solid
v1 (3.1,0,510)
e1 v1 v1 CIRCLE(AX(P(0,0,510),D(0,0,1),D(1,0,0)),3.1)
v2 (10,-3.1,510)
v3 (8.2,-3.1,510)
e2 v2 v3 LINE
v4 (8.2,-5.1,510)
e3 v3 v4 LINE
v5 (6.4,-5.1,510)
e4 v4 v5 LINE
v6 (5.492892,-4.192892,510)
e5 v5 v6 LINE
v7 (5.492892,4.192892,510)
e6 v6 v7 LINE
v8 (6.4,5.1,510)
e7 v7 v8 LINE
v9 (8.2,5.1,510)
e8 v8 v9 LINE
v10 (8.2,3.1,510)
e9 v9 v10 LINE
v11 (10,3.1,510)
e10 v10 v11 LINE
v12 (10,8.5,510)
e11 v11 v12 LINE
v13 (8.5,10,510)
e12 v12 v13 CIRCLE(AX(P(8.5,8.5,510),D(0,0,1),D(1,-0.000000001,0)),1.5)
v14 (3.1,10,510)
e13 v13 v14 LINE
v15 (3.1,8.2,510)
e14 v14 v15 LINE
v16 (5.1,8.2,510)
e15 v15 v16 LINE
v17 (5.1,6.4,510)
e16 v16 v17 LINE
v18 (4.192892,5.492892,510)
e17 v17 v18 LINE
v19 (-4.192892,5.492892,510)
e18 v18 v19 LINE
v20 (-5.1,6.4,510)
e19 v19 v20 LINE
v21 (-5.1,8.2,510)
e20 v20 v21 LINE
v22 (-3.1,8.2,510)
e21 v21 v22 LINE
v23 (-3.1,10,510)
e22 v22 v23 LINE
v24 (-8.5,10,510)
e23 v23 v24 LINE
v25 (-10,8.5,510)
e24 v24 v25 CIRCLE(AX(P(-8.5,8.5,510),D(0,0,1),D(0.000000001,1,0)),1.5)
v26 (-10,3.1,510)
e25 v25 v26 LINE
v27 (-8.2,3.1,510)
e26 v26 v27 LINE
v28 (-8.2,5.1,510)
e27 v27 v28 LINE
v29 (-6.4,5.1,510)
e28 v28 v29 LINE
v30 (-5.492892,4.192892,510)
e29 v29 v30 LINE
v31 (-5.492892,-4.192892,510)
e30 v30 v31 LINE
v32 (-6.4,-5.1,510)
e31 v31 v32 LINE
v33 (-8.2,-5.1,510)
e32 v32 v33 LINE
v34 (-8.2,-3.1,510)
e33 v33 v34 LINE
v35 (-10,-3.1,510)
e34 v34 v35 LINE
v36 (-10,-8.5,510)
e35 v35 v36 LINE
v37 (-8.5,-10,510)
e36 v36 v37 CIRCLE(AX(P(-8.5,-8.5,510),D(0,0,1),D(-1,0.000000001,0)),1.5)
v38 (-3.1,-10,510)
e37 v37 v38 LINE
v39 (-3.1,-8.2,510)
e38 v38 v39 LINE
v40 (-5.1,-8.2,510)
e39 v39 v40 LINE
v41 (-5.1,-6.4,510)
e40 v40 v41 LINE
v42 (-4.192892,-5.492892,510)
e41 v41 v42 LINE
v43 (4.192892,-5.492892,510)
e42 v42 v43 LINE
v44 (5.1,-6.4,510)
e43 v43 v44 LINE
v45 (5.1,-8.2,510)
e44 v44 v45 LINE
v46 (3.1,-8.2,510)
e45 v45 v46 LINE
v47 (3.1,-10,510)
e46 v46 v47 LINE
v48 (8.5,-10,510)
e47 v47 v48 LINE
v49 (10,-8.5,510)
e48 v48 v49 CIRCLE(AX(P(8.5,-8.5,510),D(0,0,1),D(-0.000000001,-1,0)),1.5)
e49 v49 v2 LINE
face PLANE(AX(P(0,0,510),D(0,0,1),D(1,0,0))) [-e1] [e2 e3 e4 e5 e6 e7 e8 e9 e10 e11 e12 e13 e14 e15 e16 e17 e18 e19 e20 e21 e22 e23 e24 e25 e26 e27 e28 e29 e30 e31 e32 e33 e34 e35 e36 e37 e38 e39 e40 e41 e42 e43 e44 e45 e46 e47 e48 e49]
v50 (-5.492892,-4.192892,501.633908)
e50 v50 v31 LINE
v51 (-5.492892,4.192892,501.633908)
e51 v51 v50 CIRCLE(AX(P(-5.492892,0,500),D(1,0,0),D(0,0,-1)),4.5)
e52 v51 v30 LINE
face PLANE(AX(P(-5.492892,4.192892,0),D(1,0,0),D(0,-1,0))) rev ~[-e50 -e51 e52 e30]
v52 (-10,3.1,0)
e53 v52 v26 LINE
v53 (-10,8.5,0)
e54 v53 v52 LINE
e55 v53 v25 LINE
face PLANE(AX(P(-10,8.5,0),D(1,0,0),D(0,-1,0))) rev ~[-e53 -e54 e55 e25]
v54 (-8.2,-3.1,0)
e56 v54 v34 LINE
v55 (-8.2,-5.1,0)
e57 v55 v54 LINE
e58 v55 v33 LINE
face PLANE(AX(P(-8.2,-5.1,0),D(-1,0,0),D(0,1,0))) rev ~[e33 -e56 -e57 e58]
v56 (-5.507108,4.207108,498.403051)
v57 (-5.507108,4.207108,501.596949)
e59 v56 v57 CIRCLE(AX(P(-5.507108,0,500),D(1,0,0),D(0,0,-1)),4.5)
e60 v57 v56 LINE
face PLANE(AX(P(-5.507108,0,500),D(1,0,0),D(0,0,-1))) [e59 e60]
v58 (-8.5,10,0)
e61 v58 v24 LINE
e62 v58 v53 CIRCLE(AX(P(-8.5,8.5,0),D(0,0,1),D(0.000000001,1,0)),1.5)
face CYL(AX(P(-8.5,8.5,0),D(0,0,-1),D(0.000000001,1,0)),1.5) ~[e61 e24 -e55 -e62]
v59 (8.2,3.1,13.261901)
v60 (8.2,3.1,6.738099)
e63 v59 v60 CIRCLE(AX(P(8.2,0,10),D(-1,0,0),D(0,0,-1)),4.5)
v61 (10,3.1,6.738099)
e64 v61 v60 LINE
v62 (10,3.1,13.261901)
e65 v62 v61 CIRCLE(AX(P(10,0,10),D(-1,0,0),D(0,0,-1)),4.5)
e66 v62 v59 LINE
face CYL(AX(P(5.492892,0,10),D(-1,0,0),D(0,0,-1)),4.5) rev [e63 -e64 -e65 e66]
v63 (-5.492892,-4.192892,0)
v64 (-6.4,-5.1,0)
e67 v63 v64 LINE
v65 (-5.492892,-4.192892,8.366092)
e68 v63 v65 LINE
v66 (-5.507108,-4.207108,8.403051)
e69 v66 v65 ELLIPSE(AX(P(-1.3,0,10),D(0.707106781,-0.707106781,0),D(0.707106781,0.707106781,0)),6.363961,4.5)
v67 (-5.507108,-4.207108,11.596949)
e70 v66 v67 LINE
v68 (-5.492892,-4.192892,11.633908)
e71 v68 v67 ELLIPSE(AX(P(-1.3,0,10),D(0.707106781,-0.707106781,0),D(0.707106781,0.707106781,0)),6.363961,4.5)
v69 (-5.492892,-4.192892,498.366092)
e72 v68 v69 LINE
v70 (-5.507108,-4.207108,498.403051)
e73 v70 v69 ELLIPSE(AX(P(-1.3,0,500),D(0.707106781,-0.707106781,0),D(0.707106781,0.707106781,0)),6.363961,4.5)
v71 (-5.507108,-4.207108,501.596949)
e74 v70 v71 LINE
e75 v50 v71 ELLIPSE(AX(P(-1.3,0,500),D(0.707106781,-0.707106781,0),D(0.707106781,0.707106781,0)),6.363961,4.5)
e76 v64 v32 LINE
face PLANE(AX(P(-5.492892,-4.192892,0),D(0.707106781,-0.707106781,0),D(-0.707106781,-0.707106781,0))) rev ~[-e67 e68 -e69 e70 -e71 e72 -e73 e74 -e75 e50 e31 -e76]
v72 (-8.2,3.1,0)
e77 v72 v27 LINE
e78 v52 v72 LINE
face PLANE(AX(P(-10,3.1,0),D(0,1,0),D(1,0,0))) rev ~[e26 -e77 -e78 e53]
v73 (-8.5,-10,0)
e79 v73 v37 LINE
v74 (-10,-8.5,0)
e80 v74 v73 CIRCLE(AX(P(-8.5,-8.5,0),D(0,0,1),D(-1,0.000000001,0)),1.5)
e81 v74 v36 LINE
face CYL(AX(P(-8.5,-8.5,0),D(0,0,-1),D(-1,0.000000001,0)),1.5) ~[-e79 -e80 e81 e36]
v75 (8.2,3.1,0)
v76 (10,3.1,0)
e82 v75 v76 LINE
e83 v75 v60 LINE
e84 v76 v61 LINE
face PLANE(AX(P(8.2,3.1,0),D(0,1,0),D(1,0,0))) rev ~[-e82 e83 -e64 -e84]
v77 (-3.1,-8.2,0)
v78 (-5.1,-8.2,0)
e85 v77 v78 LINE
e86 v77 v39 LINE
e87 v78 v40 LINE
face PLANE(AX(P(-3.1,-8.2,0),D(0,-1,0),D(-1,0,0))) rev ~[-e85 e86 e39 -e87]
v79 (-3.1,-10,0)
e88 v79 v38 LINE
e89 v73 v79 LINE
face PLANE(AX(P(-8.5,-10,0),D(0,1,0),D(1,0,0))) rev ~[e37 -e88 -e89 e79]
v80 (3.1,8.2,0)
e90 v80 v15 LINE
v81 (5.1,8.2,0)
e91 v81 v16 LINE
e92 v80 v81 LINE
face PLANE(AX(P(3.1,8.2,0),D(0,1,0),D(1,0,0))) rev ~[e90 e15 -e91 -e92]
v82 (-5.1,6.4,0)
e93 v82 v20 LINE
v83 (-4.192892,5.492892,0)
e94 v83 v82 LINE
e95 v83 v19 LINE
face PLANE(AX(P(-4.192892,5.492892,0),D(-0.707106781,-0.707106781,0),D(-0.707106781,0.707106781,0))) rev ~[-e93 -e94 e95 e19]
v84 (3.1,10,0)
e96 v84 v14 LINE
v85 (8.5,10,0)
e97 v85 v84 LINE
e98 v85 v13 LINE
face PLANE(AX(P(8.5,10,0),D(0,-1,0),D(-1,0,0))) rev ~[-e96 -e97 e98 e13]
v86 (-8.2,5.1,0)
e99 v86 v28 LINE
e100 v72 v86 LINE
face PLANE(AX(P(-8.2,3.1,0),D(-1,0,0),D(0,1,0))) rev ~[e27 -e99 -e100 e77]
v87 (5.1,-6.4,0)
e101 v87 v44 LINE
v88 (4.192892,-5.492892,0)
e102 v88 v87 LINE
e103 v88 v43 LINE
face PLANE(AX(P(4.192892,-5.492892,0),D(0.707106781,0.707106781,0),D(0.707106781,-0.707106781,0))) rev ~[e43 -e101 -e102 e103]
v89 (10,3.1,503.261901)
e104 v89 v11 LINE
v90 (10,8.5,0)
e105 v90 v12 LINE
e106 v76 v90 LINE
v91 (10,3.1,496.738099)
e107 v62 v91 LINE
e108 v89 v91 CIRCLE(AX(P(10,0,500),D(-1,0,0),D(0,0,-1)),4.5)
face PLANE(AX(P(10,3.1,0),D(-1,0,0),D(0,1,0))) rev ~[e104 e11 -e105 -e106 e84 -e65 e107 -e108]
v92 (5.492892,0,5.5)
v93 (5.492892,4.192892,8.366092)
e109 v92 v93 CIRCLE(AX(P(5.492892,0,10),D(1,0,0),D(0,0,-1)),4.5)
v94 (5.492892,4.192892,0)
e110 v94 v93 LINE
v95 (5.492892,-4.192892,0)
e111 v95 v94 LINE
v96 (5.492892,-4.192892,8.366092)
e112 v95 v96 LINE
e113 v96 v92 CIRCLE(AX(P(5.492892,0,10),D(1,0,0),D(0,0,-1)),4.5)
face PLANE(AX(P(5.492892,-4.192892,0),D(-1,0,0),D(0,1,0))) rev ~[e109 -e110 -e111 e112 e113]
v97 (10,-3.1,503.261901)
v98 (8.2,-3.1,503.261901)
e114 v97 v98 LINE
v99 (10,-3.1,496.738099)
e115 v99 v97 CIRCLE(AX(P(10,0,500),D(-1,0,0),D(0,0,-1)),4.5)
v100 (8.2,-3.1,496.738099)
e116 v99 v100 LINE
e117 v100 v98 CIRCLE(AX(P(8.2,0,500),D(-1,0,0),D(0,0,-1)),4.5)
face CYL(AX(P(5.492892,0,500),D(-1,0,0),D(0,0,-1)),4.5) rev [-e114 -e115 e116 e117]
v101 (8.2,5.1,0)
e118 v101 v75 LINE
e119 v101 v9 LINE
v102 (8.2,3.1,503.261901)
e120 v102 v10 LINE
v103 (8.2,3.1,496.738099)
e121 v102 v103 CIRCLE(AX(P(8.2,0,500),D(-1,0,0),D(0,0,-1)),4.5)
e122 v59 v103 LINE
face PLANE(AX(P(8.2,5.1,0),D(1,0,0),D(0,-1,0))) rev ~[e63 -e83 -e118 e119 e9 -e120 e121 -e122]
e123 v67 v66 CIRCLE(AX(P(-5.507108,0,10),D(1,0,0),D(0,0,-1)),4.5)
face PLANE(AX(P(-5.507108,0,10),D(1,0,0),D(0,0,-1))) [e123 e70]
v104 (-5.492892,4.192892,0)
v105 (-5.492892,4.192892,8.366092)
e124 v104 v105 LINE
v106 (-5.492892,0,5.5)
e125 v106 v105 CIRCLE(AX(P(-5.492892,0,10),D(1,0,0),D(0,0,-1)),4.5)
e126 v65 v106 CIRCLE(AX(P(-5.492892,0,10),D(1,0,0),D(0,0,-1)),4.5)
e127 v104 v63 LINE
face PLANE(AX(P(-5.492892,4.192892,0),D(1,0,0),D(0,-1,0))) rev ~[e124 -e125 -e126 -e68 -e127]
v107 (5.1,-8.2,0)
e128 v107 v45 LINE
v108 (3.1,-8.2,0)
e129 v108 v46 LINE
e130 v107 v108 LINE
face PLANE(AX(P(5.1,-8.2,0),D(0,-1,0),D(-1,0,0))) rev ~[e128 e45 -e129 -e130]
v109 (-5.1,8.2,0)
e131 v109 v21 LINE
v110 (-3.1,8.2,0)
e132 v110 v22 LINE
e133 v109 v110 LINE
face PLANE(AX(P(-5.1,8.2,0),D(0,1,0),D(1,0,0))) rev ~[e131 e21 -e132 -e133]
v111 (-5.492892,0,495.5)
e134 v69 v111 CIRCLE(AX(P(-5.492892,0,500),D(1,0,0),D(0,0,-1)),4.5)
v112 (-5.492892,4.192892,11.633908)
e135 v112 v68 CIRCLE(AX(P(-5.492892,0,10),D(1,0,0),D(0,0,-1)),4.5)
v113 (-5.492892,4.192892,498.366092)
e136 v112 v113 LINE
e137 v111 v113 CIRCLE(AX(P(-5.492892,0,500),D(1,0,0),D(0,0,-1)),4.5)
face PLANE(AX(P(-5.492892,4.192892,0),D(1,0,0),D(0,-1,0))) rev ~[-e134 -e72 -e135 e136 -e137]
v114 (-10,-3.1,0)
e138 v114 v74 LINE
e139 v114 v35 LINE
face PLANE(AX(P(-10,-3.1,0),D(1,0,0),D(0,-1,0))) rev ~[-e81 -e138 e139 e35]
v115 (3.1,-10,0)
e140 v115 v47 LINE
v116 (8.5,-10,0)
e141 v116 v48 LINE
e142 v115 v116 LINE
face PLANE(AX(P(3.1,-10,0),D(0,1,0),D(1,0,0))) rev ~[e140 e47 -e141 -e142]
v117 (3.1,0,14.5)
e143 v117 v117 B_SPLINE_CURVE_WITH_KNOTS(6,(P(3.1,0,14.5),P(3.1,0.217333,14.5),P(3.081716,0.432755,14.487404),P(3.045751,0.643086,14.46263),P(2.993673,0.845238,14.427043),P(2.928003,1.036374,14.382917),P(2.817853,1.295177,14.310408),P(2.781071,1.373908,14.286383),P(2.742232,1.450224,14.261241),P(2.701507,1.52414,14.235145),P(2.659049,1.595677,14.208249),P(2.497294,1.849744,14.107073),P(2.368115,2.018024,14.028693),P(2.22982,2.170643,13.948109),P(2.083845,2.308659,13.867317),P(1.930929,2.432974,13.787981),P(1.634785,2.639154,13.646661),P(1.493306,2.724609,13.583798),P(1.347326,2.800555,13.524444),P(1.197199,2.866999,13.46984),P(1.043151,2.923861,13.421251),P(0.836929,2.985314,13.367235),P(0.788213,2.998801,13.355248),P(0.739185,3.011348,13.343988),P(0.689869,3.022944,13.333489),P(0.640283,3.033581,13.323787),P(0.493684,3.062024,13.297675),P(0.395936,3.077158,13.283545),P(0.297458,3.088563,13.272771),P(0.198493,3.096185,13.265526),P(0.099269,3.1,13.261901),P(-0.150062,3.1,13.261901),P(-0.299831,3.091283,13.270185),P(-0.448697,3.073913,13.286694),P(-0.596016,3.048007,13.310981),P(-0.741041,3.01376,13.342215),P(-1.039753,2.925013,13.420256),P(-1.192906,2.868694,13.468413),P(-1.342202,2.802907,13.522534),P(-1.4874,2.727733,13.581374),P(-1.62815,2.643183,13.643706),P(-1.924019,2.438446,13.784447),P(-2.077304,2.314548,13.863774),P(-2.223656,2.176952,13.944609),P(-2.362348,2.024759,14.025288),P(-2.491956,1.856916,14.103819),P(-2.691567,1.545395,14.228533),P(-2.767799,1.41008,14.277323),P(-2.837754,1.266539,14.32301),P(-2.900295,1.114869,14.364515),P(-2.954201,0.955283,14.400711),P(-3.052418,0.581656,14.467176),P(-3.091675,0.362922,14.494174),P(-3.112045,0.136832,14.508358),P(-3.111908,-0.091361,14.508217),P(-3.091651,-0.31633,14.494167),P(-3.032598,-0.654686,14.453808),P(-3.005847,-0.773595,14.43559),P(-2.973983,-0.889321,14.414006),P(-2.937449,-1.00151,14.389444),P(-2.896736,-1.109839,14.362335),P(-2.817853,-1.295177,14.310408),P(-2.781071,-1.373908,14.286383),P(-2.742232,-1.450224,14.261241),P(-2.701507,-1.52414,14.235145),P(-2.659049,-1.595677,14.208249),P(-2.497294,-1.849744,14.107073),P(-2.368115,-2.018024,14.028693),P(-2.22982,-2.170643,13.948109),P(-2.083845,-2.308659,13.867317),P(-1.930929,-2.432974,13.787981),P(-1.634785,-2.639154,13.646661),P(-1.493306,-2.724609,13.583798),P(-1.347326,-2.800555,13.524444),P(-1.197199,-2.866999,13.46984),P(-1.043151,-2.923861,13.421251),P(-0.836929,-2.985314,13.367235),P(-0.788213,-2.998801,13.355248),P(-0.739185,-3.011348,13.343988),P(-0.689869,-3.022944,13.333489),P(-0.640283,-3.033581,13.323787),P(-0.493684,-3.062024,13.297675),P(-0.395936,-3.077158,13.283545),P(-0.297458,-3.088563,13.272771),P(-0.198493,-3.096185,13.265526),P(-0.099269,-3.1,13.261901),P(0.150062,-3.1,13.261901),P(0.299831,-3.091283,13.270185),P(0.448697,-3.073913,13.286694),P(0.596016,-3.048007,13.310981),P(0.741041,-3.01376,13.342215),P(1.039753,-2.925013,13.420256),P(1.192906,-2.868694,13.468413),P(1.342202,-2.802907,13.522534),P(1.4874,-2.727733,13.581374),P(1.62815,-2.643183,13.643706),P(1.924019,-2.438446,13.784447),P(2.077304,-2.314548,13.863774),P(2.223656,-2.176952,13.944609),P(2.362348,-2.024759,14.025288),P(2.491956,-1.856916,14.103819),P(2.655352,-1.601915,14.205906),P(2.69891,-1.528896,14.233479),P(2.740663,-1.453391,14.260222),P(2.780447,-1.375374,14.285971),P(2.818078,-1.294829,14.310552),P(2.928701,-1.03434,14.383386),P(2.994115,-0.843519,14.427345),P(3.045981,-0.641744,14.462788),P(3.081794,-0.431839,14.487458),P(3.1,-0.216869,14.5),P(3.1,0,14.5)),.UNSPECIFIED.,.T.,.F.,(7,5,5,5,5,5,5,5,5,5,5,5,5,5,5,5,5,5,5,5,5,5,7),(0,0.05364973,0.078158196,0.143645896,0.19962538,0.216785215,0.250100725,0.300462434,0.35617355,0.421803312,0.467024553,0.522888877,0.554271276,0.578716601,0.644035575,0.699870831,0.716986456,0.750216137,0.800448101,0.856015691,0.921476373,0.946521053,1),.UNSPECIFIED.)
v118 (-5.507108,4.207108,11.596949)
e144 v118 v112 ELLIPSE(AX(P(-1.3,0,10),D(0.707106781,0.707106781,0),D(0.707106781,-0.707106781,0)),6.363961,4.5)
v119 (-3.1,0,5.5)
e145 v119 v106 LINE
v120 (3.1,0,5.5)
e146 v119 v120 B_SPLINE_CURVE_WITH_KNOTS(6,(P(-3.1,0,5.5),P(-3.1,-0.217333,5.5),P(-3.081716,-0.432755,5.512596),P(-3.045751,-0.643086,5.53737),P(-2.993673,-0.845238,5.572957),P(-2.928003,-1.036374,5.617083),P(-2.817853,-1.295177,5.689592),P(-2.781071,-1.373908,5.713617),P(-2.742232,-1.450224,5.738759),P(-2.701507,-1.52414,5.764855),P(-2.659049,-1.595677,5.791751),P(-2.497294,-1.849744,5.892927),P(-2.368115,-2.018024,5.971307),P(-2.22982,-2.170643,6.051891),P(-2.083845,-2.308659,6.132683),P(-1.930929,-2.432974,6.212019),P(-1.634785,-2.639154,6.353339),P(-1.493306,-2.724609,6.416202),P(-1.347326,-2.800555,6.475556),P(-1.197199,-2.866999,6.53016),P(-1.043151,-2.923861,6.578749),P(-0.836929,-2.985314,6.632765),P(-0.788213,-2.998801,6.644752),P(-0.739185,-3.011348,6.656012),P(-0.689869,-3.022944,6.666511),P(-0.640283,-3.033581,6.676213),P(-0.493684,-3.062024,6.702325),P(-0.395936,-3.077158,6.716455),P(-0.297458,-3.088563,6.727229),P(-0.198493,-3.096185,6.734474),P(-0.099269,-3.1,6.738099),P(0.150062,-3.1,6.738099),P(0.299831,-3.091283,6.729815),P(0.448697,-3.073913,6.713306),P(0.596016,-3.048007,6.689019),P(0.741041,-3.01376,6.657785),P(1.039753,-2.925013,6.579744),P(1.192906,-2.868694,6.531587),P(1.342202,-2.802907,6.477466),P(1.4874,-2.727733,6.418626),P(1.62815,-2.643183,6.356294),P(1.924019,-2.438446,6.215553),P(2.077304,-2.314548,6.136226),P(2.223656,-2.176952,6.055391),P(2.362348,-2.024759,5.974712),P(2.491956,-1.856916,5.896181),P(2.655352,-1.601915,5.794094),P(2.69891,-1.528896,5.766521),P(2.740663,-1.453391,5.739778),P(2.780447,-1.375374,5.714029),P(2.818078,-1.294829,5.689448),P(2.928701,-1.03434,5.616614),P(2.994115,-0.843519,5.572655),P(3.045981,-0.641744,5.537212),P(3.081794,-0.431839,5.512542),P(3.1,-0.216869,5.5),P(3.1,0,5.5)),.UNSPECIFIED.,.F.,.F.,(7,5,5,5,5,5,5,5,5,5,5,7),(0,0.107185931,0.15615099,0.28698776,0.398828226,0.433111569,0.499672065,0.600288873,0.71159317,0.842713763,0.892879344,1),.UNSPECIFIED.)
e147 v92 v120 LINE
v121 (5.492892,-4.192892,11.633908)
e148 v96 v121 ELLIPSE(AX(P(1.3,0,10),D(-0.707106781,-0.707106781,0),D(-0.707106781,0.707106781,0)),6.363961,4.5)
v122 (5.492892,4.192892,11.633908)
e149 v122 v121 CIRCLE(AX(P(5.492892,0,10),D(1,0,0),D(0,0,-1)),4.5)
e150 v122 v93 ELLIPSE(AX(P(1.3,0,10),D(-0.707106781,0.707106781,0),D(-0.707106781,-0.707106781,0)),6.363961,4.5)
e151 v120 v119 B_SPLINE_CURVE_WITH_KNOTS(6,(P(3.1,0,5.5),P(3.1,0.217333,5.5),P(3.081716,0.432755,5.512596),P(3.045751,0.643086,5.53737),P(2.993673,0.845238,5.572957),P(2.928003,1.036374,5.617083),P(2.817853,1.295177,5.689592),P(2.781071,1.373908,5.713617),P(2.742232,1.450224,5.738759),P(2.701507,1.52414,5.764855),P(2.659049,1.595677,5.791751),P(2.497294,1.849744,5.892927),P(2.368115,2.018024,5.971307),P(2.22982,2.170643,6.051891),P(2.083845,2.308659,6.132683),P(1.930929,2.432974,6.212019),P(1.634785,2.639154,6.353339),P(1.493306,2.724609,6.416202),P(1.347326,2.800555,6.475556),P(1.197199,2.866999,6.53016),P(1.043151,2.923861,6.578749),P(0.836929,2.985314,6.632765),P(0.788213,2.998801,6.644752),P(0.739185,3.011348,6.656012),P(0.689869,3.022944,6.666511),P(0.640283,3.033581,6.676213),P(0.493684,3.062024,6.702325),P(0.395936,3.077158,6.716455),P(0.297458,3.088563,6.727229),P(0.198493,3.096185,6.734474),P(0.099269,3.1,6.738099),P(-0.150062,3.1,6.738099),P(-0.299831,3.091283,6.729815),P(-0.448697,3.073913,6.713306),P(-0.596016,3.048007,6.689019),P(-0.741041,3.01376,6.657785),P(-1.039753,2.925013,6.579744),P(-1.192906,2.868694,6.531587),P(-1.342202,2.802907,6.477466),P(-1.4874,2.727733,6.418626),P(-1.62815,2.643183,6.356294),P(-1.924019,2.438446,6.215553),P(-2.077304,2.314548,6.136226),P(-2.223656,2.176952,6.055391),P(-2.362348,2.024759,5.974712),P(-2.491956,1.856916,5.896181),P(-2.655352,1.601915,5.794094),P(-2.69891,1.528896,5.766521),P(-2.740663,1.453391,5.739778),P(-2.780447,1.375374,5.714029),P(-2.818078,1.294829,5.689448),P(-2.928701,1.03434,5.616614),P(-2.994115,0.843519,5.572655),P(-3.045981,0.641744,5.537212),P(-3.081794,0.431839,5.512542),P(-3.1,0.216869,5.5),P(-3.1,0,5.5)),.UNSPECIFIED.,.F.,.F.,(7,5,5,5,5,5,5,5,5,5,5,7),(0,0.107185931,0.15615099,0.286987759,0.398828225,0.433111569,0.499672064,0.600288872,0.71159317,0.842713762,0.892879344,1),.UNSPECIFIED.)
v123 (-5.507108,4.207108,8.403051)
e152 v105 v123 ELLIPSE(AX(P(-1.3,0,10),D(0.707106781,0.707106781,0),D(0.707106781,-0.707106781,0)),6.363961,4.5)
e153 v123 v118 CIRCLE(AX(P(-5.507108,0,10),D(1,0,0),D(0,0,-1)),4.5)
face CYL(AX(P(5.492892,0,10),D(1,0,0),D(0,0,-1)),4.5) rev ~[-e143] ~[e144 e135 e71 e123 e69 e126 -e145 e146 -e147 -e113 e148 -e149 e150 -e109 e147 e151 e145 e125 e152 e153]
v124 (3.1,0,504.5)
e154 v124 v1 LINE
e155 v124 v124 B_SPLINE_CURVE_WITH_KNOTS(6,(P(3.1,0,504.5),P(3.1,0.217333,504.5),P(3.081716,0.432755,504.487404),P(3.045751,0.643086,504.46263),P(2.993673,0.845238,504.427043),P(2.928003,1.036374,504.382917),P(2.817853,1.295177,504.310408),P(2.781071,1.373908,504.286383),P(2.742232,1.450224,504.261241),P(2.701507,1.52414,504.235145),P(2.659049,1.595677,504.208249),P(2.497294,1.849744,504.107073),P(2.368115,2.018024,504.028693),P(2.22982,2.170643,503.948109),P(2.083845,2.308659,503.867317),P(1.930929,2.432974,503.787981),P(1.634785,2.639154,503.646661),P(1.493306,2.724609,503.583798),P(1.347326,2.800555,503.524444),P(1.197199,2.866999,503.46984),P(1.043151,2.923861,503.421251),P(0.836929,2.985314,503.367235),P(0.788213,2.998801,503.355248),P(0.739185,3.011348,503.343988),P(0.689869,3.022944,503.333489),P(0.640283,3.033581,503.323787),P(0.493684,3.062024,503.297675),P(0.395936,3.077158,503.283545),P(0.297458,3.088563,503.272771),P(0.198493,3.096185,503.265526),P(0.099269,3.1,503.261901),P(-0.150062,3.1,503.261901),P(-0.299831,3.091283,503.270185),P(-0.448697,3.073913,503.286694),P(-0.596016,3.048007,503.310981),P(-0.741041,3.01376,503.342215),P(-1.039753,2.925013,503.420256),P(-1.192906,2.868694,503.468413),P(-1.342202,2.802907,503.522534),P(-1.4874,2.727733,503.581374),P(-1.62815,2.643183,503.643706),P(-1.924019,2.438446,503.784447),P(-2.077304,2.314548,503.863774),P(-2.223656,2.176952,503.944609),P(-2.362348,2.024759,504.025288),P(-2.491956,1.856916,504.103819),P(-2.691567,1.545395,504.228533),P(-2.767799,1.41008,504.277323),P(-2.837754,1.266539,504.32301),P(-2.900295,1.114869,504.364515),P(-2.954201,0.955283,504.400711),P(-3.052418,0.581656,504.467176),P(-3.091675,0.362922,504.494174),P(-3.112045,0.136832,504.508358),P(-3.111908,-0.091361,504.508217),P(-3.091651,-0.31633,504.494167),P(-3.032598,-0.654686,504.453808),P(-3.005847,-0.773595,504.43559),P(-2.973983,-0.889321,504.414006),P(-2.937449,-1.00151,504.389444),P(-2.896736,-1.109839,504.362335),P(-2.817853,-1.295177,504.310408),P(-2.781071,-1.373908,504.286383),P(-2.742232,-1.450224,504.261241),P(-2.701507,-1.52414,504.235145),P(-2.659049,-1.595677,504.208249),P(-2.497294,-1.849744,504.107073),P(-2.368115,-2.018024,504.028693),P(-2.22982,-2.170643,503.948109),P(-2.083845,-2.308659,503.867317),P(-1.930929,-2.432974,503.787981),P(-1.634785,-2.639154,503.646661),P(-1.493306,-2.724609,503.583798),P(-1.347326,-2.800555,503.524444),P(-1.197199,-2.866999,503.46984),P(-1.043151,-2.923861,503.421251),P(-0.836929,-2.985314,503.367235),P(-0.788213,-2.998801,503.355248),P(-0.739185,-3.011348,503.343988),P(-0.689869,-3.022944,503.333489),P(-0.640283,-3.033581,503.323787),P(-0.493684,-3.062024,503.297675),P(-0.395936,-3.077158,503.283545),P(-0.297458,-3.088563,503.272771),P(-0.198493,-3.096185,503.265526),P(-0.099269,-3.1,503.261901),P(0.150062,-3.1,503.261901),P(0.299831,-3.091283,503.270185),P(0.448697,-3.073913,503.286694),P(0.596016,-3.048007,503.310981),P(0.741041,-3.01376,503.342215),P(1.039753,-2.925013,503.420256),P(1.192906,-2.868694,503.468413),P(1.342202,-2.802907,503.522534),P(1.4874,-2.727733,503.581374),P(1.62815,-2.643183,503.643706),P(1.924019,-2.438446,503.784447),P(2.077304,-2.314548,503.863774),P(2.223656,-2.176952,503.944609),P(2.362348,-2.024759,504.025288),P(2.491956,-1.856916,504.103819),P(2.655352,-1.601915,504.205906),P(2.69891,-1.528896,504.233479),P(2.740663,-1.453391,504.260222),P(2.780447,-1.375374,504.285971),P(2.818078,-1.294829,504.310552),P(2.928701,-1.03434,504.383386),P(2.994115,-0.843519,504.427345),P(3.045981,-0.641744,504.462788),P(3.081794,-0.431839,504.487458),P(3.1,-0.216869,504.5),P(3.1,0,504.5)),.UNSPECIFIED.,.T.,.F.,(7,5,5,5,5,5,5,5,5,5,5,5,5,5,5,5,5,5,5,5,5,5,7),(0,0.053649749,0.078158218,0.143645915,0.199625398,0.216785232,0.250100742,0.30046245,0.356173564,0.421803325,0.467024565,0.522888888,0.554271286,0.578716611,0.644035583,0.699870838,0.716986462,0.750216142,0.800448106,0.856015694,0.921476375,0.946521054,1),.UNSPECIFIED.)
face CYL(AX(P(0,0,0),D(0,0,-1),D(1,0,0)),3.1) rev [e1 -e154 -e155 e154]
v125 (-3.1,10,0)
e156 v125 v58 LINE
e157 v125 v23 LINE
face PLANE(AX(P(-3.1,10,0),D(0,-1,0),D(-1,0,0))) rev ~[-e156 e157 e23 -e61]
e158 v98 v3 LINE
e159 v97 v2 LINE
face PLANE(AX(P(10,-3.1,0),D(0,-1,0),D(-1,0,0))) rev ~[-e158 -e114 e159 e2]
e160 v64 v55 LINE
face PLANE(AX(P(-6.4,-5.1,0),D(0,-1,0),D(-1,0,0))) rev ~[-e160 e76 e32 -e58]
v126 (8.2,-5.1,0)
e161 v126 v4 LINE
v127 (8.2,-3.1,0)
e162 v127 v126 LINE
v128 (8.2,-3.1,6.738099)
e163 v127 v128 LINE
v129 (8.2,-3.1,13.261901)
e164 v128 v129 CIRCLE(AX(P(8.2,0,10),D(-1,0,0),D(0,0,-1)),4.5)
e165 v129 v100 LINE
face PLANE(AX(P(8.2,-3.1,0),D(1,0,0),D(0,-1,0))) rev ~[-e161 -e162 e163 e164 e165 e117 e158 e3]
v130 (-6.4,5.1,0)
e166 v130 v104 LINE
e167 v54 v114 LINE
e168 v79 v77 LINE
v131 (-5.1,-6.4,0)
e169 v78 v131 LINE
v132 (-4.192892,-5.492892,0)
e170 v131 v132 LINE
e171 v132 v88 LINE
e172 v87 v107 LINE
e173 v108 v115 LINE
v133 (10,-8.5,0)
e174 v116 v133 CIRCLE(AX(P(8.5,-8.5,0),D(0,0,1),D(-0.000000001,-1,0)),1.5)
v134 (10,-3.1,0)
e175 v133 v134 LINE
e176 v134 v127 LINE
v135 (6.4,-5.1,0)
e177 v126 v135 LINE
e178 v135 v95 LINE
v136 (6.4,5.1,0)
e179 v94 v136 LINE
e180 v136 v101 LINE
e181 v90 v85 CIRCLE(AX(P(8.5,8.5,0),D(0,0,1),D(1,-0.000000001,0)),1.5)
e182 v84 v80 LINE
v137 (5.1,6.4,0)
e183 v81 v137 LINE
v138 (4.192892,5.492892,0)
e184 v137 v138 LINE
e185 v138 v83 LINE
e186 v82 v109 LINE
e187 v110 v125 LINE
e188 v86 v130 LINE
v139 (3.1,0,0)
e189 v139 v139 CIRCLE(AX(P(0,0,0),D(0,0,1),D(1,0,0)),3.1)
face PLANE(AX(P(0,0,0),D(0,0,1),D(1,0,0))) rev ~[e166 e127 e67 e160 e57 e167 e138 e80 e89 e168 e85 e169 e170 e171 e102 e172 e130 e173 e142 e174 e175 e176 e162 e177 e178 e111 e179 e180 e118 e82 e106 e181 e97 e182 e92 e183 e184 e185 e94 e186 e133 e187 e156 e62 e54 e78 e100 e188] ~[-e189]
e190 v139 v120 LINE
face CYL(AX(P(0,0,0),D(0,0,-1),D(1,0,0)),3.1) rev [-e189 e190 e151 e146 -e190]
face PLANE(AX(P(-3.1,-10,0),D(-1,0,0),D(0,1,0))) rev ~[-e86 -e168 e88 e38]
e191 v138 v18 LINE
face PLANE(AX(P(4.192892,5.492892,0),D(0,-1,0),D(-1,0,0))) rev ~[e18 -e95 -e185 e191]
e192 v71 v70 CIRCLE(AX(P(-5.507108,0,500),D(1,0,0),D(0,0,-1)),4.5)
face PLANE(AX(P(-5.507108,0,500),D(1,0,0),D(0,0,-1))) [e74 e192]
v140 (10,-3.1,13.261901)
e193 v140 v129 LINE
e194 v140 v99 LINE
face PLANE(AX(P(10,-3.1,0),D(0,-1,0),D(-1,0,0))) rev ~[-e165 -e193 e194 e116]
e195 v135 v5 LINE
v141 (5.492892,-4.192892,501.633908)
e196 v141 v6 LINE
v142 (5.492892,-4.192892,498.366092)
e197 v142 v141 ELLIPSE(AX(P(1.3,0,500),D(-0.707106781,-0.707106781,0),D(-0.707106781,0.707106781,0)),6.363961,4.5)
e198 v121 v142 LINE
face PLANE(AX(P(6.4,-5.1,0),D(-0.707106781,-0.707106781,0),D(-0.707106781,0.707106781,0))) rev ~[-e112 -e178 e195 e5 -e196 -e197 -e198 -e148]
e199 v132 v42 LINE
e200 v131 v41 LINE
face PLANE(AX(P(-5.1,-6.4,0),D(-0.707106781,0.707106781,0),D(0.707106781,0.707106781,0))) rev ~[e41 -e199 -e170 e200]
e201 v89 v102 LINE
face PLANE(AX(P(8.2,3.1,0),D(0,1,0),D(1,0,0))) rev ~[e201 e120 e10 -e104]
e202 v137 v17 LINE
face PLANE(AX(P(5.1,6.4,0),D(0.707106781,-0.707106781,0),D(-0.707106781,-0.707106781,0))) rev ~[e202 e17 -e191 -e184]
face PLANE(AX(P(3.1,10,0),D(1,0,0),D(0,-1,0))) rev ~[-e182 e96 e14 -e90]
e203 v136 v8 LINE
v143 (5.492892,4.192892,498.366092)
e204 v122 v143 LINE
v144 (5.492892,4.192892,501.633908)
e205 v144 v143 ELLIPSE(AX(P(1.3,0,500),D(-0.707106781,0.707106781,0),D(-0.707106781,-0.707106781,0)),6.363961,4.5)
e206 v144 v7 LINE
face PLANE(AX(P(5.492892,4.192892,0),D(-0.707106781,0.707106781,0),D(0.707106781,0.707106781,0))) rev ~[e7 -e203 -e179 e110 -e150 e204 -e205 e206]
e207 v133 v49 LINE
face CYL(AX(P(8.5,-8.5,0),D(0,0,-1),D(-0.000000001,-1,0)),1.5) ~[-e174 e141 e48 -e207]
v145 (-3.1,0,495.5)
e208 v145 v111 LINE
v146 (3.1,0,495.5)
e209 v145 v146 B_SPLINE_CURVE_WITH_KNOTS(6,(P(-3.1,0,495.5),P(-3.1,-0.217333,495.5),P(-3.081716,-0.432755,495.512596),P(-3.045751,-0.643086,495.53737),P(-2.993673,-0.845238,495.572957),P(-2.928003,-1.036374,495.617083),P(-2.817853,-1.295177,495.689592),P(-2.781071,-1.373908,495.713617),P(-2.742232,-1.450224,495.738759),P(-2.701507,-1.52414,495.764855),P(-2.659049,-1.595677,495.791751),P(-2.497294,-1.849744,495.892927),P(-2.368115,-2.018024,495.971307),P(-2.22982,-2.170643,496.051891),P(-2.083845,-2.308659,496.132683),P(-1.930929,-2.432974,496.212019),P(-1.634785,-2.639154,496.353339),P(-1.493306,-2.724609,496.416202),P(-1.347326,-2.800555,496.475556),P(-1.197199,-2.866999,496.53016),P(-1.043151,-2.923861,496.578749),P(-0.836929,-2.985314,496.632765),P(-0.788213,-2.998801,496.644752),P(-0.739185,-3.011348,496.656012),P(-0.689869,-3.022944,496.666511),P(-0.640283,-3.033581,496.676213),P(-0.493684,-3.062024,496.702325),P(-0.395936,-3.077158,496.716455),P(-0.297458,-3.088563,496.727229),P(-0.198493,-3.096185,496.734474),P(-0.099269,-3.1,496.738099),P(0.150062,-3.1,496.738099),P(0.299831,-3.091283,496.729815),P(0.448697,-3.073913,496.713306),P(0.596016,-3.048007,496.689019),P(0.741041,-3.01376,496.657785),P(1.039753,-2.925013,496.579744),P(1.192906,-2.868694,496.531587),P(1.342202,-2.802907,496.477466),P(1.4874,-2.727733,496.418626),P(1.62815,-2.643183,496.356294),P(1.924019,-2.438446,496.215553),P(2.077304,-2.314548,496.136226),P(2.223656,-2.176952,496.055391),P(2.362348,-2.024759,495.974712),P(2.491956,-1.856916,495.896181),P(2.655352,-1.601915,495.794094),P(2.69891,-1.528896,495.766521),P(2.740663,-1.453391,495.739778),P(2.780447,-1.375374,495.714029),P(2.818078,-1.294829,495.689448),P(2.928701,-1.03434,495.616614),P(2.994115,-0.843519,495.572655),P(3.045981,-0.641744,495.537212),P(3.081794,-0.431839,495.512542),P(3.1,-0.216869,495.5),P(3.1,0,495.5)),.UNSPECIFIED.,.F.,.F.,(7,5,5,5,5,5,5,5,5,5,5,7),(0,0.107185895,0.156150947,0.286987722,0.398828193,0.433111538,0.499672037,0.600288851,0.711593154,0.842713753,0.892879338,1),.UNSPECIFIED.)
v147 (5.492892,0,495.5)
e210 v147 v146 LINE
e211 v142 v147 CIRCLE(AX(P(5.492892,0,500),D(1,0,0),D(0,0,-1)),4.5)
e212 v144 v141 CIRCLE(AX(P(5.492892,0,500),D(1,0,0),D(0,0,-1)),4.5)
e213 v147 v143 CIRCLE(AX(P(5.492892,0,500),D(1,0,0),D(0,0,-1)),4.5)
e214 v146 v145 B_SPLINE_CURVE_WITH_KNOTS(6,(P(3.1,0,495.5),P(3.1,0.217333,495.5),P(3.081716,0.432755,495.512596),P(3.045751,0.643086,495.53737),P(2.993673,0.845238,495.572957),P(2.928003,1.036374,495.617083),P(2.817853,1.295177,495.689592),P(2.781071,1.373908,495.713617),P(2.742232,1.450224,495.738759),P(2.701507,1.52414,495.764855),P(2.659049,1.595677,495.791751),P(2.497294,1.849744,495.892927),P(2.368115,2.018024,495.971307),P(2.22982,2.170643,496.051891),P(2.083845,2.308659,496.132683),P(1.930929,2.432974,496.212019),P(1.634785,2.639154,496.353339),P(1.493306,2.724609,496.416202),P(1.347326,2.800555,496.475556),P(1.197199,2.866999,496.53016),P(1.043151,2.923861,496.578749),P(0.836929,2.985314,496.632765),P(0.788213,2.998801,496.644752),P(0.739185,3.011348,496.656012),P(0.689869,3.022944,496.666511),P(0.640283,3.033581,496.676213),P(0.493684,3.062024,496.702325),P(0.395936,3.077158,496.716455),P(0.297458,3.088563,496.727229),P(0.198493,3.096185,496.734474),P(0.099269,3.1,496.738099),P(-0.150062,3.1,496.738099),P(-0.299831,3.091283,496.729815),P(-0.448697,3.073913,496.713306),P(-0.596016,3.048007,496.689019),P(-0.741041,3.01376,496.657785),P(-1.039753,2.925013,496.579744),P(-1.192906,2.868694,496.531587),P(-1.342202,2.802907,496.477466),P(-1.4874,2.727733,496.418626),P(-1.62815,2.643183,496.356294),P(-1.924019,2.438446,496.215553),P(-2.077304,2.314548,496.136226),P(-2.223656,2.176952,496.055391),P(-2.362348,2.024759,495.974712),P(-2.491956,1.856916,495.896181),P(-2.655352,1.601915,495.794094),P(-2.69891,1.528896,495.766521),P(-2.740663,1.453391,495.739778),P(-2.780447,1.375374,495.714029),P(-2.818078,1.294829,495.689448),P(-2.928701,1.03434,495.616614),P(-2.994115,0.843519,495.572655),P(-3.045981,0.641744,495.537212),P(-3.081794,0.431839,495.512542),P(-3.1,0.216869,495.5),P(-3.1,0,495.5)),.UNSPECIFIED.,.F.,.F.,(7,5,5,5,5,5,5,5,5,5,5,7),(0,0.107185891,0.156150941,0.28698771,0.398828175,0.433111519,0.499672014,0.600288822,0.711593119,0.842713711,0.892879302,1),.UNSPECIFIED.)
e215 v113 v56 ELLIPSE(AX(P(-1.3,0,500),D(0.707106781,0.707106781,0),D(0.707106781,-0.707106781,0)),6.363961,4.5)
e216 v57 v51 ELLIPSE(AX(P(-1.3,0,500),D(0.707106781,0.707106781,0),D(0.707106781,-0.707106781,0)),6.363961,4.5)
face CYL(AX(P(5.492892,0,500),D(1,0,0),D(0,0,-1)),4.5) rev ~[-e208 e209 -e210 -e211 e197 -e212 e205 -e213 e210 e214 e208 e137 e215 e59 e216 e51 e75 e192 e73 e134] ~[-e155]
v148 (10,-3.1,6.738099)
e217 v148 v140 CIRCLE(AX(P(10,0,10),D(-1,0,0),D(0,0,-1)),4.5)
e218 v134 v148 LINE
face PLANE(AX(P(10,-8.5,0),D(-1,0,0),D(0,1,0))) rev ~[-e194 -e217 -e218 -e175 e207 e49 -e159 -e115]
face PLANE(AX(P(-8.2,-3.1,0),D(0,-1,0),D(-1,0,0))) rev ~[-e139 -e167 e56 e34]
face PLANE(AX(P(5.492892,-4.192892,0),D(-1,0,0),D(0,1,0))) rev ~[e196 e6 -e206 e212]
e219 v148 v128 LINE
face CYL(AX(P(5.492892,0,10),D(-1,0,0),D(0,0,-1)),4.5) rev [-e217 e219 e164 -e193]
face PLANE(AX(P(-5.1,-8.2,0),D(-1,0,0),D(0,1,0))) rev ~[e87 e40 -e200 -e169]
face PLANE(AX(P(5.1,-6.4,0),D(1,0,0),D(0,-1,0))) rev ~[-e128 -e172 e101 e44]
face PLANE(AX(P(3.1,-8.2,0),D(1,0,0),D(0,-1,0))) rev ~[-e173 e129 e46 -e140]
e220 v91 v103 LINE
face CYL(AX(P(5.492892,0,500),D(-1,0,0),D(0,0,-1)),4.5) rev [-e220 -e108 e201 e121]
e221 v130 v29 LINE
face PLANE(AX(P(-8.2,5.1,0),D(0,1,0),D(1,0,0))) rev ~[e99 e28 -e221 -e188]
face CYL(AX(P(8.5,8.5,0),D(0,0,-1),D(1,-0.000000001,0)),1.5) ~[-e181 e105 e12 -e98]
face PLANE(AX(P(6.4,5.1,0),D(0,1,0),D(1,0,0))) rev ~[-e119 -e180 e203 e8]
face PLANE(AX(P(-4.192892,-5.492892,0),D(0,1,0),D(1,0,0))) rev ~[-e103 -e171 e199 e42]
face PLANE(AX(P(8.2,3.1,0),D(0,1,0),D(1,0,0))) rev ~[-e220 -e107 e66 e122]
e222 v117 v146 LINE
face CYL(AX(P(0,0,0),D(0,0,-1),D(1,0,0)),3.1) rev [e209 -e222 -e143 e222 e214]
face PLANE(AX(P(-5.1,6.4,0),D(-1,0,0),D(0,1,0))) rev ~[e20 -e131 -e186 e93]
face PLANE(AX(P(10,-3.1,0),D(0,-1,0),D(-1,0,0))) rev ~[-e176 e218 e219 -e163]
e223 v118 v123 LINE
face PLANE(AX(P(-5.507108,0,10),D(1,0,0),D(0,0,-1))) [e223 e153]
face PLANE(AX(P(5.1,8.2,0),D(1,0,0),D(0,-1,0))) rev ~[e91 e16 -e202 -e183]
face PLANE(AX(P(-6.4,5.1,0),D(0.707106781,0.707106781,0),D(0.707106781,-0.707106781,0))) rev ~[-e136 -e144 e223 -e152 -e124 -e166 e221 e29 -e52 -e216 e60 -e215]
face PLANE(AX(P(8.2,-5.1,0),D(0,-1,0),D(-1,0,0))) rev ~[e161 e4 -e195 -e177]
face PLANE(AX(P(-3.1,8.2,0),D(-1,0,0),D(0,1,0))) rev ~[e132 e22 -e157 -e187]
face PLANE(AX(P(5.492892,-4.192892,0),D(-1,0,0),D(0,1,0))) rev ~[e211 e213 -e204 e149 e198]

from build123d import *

# Parameters (mm, degrees)
SKETCH1_R               = 3.1
BOSS_EXTRUDE1_DEPTH     = 510
SKETCH3_R               = 4.5
CUT_EXTRUDE2_DEPTH      = 5.507107651
CUT_EXTRUDE2_DEPTH_BACK = 11


with BuildPart() as part:
    # Sketch1 → Boss-Extrude1 (new body)
    with BuildSketch(Plane.XY):
        with BuildLine():
            Line((-10, 3.1), (-8.2, 3.1))
            Line((-8.2, 3.1), (-8.2, 5.1))
            Line((-8.2, 5.1), (-6.4, 5.1))
            Line((-6.4, 5.1), (-5.492892349, 4.192892349))
            Line((-5.492892349, 4.192892349), (-5.492892349, -4.192892349))
            Line((-5.492892349, -4.192892349), (-6.4, -5.1))
            Line((-6.4, -5.1), (-8.2, -5.1))
            Line((-8.2, -5.1), (-8.2, -3.1))
            Line((-8.2, -3.1), (-10, -3.1))
            Line((-10, -3.1), (-10, -8.5))
            ThreePointArc((-10, -8.5), (-9.560660172, -9.560660172), (-8.5, -10))
            Line((-8.5, -10), (-3.1, -10))
            Line((-3.1, -10), (-3.1, -8.2))
            Line((-3.1, -8.2), (-5.1, -8.2))
            Line((-5.1, -8.2), (-5.1, -6.4))
            Line((-5.1, -6.4), (-4.192892349, -5.492892349))
            Line((-4.192892349, -5.492892349), (4.192892349, -5.492892349))
            Line((4.192892349, -5.492892349), (5.1, -6.4))
            Line((5.1, -6.4), (5.1, -8.2))
            Line((5.1, -8.2), (3.1, -8.2))
            Line((3.1, -8.2), (3.1, -10))
            Line((3.1, -10), (8.5, -10))
            ThreePointArc((8.5, -10), (9.560660172, -9.560660172), (10, -8.5))
            Line((10, -8.5), (10, -3.1))
            Line((10, -3.1), (8.2, -3.1))
            Line((8.2, -3.1), (8.2, -5.1))
            Line((8.2, -5.1), (6.4, -5.1))
            Line((6.4, -5.1), (5.492892349, -4.192892349))
            Line((5.492892349, -4.192892349), (5.492892349, 4.192892349))
            Line((5.492892349, 4.192892349), (6.4, 5.1))
            Line((6.4, 5.1), (8.2, 5.1))
            Line((8.2, 5.1), (8.2, 3.1))
            Line((8.2, 3.1), (10, 3.1))
            Line((10, 3.1), (10, 8.5))
            ThreePointArc((10, 8.5), (9.560660172, 9.560660172), (8.5, 10))
            Line((8.5, 10), (3.1, 10))
            Line((3.1, 10), (3.1, 8.2))
            Line((3.1, 8.2), (5.1, 8.2))
            Line((5.1, 8.2), (5.1, 6.4))
            Line((5.1, 6.4), (4.192892349, 5.492892349))
            Line((4.192892349, 5.492892349), (-4.192892349, 5.492892349))
            Line((-4.192892349, 5.492892349), (-5.1, 6.4))
            Line((-5.1, 6.4), (-5.1, 8.2))
            Line((-5.1, 8.2), (-3.1, 8.2))
            Line((-3.1, 8.2), (-3.1, 10))
            Line((-3.1, 10), (-8.5, 10))
            ThreePointArc((-8.5, 10), (-9.560660172, 9.560660172), (-10, 8.5))
            Line((-10, 8.5), (-10, 3.1))
        make_face()
        Circle(SKETCH1_R, mode=Mode.SUBTRACT)
    extrude(amount=BOSS_EXTRUDE1_DEPTH)

    # Sketch3 → Cut-Extrude2 (cut, two sides)
    with BuildSketch(Plane(origin=(5.492892349, 0, 0), x_dir=(0, 0, -1), z_dir=(1, 0, 0))) as cut_extrude2_sk:
        with Locations((-10, 0)):
            Circle(SKETCH3_R)
        with Locations((-500, 0)):
            Circle(SKETCH3_R)
    extrude(amount=CUT_EXTRUDE2_DEPTH, mode=Mode.SUBTRACT)
    extrude(cut_extrude2_sk.sketch, amount=-CUT_EXTRUDE2_DEPTH_BACK, mode=Mode.SUBTRACT)


solid = part.part
